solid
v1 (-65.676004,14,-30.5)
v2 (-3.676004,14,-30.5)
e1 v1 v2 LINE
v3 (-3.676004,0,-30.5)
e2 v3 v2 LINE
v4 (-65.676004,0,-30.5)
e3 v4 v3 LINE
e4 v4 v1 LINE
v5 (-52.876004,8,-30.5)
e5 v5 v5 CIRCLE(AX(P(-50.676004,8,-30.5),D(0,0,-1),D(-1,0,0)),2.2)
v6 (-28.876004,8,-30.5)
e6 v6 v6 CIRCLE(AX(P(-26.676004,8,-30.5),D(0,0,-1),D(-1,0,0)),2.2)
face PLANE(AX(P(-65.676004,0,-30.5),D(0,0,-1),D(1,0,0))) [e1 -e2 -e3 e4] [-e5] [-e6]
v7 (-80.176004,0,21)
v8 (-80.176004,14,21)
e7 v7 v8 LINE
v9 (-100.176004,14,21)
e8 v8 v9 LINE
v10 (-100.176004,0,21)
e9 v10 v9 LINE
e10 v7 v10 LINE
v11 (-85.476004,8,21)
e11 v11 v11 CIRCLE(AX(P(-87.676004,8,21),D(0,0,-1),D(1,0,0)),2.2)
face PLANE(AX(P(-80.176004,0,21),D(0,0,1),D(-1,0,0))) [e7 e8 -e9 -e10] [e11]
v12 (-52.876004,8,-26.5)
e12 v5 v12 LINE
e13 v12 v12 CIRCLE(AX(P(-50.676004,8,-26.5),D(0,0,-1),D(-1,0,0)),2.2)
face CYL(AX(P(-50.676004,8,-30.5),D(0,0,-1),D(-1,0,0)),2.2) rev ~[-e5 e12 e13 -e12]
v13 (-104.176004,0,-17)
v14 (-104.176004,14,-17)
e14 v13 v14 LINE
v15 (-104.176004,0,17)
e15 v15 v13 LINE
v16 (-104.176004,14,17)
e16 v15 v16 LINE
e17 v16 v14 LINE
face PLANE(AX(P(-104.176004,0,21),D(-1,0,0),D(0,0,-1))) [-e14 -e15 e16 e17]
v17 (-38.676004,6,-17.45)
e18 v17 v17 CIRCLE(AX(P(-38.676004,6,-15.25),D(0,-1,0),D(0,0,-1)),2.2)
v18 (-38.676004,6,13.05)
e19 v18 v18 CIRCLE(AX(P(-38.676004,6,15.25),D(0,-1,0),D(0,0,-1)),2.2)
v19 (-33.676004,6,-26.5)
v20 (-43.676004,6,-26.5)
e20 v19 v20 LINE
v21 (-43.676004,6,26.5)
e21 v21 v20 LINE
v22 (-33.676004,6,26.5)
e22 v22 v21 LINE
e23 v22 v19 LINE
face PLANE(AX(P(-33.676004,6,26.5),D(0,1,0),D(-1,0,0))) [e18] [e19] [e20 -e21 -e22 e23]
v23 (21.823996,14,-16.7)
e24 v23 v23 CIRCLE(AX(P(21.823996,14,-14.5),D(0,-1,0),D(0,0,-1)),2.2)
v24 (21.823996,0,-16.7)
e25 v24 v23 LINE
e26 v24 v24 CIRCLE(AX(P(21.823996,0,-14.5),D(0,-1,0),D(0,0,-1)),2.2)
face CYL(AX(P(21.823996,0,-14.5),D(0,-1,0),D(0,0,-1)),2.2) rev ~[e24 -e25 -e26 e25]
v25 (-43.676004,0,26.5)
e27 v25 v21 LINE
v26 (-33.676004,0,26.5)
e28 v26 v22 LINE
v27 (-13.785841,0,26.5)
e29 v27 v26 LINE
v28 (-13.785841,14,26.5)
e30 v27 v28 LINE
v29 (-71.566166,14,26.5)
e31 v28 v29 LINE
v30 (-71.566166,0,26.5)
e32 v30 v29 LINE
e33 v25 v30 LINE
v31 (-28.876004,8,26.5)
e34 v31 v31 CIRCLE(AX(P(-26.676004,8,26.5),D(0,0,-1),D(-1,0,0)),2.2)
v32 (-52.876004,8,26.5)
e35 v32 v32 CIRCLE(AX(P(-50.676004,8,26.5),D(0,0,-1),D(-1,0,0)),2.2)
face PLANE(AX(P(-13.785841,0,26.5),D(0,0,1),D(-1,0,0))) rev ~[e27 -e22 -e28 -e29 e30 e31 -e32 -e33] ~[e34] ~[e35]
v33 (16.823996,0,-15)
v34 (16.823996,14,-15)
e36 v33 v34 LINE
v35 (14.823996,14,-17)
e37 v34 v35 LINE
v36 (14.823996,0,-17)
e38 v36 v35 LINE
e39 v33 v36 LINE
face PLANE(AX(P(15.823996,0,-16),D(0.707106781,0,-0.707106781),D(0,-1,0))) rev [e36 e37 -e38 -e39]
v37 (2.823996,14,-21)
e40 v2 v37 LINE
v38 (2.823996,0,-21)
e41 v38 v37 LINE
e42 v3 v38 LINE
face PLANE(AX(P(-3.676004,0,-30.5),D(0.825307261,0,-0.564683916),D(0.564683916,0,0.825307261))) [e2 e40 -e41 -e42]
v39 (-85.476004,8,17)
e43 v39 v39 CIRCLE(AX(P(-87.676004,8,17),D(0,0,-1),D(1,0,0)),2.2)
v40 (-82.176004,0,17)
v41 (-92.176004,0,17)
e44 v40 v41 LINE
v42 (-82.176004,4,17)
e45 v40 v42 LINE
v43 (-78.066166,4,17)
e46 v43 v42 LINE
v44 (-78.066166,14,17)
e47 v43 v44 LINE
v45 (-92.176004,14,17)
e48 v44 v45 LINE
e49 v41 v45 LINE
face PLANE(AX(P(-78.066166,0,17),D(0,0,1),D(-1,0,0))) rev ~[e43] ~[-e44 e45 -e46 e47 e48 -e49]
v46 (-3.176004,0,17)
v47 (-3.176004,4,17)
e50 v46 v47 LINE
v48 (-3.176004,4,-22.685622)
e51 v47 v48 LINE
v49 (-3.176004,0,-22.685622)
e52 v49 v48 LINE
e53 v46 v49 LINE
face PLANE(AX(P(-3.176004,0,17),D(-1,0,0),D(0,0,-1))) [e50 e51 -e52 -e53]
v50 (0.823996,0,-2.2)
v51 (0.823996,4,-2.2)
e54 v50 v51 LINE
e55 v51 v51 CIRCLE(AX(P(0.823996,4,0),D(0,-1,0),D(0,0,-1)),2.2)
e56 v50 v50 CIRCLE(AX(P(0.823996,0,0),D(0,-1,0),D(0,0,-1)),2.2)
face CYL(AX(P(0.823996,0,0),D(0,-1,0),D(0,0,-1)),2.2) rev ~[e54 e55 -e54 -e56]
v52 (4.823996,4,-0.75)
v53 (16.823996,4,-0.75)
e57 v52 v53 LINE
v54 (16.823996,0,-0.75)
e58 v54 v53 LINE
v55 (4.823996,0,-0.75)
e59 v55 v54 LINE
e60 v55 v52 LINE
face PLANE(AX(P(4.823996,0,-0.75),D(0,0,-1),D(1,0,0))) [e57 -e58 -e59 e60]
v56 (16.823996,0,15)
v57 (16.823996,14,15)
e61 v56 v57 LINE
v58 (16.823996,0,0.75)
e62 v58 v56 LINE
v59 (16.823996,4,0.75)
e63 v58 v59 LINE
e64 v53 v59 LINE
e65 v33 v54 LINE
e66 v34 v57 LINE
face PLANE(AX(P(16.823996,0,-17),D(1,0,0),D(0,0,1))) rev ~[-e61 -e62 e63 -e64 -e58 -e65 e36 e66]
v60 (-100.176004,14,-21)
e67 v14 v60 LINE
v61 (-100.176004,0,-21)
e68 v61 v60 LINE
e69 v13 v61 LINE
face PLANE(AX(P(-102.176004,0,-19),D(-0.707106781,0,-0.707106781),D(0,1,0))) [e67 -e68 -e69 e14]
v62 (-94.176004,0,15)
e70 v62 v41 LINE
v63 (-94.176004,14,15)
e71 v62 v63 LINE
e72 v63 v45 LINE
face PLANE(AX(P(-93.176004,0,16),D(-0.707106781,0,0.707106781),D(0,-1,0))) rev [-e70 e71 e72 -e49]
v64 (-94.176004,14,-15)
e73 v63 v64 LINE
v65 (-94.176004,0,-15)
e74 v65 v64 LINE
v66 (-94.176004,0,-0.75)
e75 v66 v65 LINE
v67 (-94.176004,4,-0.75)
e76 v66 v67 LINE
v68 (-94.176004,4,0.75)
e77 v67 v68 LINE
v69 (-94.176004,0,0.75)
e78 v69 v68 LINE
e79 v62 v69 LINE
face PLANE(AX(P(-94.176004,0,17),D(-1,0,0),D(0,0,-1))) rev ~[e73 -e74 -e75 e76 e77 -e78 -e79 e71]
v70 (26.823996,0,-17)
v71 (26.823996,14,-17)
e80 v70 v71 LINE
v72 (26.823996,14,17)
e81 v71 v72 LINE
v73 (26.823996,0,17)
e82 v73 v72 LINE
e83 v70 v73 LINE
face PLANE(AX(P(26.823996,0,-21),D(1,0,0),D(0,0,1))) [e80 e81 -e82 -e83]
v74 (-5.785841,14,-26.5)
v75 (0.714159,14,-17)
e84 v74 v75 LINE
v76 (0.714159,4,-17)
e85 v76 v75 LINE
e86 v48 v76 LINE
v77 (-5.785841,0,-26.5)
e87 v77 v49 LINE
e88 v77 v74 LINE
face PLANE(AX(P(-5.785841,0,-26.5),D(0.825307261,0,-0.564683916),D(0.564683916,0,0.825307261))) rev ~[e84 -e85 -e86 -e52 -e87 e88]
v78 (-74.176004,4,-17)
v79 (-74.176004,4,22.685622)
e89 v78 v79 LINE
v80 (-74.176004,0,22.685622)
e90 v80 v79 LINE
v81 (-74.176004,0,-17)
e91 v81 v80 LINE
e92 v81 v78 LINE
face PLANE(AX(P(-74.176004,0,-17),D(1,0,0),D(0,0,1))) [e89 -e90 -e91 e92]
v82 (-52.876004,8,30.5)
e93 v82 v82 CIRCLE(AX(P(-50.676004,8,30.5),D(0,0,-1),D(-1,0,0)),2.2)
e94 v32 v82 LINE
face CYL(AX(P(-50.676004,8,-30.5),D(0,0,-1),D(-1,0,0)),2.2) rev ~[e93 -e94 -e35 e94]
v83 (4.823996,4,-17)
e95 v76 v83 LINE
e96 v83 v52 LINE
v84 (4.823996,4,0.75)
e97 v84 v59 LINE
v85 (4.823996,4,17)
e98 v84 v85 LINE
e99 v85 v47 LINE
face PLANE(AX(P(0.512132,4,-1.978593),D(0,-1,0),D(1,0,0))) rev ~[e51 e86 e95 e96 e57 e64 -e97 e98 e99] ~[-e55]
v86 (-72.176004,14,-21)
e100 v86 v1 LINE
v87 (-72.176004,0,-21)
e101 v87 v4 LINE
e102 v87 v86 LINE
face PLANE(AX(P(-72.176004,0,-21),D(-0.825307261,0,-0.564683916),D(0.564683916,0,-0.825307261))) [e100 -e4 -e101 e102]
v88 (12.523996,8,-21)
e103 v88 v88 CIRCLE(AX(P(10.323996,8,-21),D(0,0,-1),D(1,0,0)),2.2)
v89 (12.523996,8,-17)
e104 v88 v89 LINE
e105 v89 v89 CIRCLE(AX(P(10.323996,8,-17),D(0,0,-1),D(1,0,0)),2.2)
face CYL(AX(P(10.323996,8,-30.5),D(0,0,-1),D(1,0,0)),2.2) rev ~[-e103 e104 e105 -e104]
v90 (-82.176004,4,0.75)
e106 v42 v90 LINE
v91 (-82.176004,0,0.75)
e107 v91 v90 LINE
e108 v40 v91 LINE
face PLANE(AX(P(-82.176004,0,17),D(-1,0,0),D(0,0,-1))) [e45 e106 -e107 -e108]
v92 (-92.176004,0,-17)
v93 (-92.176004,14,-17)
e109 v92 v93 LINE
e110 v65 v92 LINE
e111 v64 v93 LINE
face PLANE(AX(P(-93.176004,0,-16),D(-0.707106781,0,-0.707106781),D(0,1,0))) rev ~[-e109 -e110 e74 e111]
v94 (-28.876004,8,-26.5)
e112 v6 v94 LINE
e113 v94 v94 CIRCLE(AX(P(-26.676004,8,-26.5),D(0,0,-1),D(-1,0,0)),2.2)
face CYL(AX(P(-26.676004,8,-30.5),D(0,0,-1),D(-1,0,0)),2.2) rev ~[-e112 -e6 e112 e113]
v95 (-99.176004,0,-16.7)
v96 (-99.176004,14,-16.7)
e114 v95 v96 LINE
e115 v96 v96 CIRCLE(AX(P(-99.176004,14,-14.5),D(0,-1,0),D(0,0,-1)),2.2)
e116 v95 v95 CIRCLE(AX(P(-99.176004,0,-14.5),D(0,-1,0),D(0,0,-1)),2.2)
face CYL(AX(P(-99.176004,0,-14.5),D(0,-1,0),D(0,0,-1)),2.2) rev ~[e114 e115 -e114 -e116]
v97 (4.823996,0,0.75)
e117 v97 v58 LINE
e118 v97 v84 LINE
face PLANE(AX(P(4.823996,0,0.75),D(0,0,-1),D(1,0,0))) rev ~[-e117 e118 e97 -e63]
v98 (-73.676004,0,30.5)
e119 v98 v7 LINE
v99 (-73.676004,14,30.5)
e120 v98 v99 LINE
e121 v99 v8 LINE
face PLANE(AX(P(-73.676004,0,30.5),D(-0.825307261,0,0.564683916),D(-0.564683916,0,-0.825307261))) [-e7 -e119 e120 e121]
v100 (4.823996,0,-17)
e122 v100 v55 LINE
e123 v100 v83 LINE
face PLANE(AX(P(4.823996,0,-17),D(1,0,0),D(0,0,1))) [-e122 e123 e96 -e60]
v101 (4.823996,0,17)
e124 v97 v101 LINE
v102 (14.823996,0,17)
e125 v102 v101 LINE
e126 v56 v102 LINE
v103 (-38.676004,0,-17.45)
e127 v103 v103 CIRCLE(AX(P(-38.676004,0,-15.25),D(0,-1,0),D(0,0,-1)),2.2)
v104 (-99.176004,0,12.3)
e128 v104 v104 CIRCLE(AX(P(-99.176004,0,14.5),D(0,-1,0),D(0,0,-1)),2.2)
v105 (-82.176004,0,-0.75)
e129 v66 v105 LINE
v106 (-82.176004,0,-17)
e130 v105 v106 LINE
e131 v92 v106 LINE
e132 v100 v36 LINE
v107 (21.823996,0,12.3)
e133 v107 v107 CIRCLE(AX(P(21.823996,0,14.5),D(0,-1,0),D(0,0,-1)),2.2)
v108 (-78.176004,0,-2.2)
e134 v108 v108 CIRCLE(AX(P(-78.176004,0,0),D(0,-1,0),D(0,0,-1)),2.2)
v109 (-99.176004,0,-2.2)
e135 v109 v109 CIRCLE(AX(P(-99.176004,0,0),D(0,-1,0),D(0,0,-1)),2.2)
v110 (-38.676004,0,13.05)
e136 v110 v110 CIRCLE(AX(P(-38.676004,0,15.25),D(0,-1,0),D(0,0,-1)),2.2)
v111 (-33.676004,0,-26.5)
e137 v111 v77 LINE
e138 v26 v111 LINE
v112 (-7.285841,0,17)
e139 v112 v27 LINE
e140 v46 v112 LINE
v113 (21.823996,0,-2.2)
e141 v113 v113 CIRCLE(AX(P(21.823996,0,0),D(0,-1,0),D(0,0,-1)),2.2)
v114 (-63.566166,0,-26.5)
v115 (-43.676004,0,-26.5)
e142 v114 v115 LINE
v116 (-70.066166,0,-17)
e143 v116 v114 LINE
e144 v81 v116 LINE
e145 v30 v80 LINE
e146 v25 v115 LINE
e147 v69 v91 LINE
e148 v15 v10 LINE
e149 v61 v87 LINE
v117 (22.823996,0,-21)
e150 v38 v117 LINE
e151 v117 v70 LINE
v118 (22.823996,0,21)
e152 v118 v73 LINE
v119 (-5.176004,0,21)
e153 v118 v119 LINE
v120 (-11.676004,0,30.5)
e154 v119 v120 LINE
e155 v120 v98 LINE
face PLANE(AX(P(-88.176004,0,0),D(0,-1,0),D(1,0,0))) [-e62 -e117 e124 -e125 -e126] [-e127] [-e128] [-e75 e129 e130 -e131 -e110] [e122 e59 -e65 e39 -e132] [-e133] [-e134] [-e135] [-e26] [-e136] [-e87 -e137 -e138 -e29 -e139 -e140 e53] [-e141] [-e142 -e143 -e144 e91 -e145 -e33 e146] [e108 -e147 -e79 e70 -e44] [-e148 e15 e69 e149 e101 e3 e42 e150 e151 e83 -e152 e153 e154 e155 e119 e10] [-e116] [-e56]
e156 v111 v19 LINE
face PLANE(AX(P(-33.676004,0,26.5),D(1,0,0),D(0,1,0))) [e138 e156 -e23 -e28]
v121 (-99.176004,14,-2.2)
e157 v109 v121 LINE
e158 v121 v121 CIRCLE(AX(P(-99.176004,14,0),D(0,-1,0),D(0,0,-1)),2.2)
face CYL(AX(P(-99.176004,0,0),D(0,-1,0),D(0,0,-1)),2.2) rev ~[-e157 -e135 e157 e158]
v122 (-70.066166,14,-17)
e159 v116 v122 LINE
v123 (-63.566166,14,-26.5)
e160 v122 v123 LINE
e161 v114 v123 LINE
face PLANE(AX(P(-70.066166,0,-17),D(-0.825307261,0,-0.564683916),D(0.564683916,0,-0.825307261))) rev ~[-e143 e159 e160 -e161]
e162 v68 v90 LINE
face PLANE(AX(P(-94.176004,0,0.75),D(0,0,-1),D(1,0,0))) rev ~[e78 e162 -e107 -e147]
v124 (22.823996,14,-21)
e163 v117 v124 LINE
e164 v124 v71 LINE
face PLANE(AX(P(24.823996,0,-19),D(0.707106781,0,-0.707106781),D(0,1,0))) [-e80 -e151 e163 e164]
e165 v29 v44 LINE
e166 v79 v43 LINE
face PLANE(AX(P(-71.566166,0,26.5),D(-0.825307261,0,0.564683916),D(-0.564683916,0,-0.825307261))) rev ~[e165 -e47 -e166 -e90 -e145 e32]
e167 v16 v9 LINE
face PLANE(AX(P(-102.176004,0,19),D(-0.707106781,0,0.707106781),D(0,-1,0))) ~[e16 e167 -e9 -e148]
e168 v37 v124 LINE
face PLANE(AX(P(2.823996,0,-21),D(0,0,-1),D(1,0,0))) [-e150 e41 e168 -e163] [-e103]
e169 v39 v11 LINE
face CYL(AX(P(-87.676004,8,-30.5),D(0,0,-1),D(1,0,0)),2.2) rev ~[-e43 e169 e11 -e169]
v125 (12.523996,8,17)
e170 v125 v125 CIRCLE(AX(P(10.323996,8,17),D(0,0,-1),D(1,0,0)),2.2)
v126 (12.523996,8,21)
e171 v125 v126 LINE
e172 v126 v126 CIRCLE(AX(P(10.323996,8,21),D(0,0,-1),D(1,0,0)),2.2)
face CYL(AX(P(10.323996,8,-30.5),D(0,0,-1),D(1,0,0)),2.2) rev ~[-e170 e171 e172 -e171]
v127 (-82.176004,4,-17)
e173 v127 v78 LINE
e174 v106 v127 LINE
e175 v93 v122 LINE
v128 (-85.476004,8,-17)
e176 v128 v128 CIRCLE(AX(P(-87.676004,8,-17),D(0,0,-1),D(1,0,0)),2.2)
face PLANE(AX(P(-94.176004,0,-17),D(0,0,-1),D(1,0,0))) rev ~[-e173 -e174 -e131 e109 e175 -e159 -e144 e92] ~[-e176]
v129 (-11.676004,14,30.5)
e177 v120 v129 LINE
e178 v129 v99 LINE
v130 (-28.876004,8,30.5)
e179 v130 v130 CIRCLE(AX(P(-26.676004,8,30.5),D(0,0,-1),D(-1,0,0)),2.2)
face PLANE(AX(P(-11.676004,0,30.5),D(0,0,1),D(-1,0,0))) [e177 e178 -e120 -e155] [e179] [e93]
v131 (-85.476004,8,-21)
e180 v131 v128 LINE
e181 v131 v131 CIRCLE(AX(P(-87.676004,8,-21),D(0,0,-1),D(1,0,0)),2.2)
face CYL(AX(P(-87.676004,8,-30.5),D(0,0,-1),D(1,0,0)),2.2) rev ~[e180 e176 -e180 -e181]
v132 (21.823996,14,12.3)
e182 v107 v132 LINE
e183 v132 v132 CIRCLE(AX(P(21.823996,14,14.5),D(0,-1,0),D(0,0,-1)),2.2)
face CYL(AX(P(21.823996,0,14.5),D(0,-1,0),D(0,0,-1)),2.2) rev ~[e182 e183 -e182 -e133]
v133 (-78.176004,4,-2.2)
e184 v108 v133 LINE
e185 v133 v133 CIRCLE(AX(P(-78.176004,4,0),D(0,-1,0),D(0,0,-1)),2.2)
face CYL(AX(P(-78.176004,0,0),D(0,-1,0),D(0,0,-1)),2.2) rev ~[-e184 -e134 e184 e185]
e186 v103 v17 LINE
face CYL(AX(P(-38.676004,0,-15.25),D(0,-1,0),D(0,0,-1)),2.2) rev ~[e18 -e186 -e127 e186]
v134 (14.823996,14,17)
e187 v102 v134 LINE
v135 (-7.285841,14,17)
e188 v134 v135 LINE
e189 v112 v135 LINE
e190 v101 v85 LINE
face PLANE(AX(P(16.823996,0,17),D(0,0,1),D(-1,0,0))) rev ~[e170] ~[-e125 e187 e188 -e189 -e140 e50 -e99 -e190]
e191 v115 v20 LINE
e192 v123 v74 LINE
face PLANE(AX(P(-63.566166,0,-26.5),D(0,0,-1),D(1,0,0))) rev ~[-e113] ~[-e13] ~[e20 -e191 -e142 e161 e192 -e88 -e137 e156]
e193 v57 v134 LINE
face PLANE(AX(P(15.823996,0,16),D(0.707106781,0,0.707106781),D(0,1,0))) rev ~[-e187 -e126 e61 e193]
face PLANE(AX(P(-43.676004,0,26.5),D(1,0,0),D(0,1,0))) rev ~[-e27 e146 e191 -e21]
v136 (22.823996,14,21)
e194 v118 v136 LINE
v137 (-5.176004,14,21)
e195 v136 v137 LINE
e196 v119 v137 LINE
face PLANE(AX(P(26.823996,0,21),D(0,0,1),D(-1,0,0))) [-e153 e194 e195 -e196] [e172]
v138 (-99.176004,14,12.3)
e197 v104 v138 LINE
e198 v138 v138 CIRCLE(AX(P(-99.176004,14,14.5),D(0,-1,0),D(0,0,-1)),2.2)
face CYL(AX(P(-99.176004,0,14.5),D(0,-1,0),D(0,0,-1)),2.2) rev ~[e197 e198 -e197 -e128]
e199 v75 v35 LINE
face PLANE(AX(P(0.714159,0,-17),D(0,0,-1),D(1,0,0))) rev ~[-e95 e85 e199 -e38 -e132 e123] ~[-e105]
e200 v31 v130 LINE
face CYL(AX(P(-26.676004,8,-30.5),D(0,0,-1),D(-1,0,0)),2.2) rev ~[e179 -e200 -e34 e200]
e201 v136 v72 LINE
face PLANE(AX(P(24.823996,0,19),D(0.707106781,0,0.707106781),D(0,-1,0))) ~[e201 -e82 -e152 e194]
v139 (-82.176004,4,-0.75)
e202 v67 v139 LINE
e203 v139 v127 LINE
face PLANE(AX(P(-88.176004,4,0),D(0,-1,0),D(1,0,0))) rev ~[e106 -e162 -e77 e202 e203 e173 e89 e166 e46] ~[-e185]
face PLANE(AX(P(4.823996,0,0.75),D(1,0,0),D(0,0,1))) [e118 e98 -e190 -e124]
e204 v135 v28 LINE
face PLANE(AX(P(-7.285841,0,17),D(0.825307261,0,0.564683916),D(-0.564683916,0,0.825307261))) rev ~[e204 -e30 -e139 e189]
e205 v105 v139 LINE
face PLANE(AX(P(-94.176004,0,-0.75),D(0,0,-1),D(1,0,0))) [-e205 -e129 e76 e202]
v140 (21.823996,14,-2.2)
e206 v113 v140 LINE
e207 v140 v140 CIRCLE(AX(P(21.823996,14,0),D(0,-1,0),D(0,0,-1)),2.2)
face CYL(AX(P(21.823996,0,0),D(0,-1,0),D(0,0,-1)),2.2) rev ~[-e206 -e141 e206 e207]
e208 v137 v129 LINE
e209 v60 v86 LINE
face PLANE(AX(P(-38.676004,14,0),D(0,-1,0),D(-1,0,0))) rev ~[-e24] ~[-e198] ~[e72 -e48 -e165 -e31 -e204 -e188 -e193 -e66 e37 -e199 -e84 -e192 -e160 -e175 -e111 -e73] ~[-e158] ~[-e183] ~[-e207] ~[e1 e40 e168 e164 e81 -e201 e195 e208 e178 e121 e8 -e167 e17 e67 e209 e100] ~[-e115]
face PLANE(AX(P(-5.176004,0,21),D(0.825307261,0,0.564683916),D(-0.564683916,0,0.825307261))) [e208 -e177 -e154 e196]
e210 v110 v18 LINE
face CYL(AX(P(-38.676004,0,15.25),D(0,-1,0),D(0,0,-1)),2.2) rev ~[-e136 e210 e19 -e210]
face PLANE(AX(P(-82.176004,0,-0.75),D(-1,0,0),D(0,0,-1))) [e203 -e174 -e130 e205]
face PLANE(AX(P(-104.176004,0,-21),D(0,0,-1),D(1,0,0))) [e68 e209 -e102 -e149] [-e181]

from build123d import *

# Parameters (mm, degrees)
BOSS_EXTRUDE1_DEPTH = 14
CUT_EXTRUDE1_REACH  = 16
SKETCH2_R           = 2.2
SKETCH5_R           = 2.2
CUT_EXTRUDE2_DEPTH  = 62
BOSS_EXTRUDE2_REACH = 59
SKETCH6_W           = 10
SKETCH6_H           = 6
SKETCH7_W           = 12
SKETCH7_H           = 1.5
SKETCH7_R           = 2.2
BOSS_EXTRUDE3_DEPTH = 4
CUT_EXTRUDE3_REACH  = 16
SKETCH8_R           = 2.2
CHAMFER1_SIZE       = 4
CHAMFER2_SIZE       = 2


with BuildPart() as part:
    # Sketch1 → Boss-Extrude1 (new body)
    with BuildSketch(Plane(origin=(0, 0, 0), x_dir=(1, 0, 0), z_dir=(0, 1, 0))):
        Polygon((-104.176003517, -21), (-104.176003517, 21), (-72.176003517, 21), (-65.676003517, 30.5), (-3.676003517, 30.5), (2.823996483, 21), (26.823996483, 21), (26.823996483, -21), (-5.176003517, -21), (-11.676003517, -30.5), (-73.676003517, -30.5), (-80.176003517, -21), align=None)
        Polygon((-94.176003517, -17), (-94.176003517, 17), (-70.066165861, 17), (-63.566165861, 26.5), (-5.785841173, 26.5), (0.714158827, 17), (16.823996483, 17), (16.823996483, -17), (-7.285841173, -17), (-13.785841173, -26.5), (-71.566165861, -26.5), (-78.066165861, -17), align=None, mode=Mode.SUBTRACT)
    extrude(amount=BOSS_EXTRUDE1_DEPTH)

    # Sketch2 → Cut-Extrude1 (cut, up to next)
    with BuildSketch(Plane(origin=(0, 0, 0), x_dir=(-1, 0, 0), z_dir=(0, -1, 0)), mode=Mode.PRIVATE) as cut_extrude1_sk1:
        with Locations(Location((99.176003517, 14.5, 0), (0, 0, 90))):  # turned: the seam where the file's is
            Circle(SKETCH2_R)
    cut_extrude1_tool1 = extrude(cut_extrude1_sk1.sketch, amount=-CUT_EXTRUDE1_REACH, mode=Mode.PRIVATE) & part.part
    add(cut_extrude1_tool1.solids().sort_by_distance((-99.176004, 0, -14.5))[0], mode=Mode.SUBTRACT)
    # Sketch2 → Cut-Extrude1 (cut, up to next)
    with BuildSketch(Plane(origin=(0, 0, 0), x_dir=(-1, 0, 0), z_dir=(0, -1, 0)), mode=Mode.PRIVATE) as cut_extrude1_sk2:
        with Locations(Location((99.176003517, 0, 0), (0, 0, 90))):  # turned: the seam where the file's is
            Circle(SKETCH2_R)
    cut_extrude1_tool2 = extrude(cut_extrude1_sk2.sketch, amount=-CUT_EXTRUDE1_REACH, mode=Mode.PRIVATE) & part.part
    add(cut_extrude1_tool2.solids().sort_by_distance((-99.176004, 0, 0))[0], mode=Mode.SUBTRACT)
    # Sketch2 → Cut-Extrude1 (cut, up to next)
    with BuildSketch(Plane(origin=(0, 0, 0), x_dir=(-1, 0, 0), z_dir=(0, -1, 0)), mode=Mode.PRIVATE) as cut_extrude1_sk3:
        with Locations(Location((99.176003517, -14.5, 0), (0, 0, 90))):  # turned: the seam where the file's is
            Circle(SKETCH2_R)
    cut_extrude1_tool3 = extrude(cut_extrude1_sk3.sketch, amount=-CUT_EXTRUDE1_REACH, mode=Mode.PRIVATE) & part.part
    add(cut_extrude1_tool3.solids().sort_by_distance((-99.176004, 0, 14.5))[0], mode=Mode.SUBTRACT)
    # Sketch2 → Cut-Extrude1 (cut, up to next)
    with BuildSketch(Plane(origin=(0, 0, 0), x_dir=(-1, 0, 0), z_dir=(0, -1, 0)), mode=Mode.PRIVATE) as cut_extrude1_sk4:
        with Locations(Location((-21.823996483, -14.5, 0), (0, 0, 90))):  # turned: the seam where the file's is
            Circle(SKETCH2_R)
    cut_extrude1_tool4 = extrude(cut_extrude1_sk4.sketch, amount=-CUT_EXTRUDE1_REACH, mode=Mode.PRIVATE) & part.part
    add(cut_extrude1_tool4.solids().sort_by_distance((21.823996, 0, 14.5))[0], mode=Mode.SUBTRACT)
    # Sketch2 → Cut-Extrude1 (cut, up to next)
    with BuildSketch(Plane(origin=(0, 0, 0), x_dir=(-1, 0, 0), z_dir=(0, -1, 0)), mode=Mode.PRIVATE) as cut_extrude1_sk5:
        with Locations(Location((-21.823996483, 0, 0), (0, 0, 90))):  # turned: the seam where the file's is
            Circle(SKETCH2_R)
    cut_extrude1_tool5 = extrude(cut_extrude1_sk5.sketch, amount=-CUT_EXTRUDE1_REACH, mode=Mode.PRIVATE) & part.part
    add(cut_extrude1_tool5.solids().sort_by_distance((21.823996, 0, 0))[0], mode=Mode.SUBTRACT)
    # Sketch2 → Cut-Extrude1 (cut, up to next)
    with BuildSketch(Plane(origin=(0, 0, 0), x_dir=(-1, 0, 0), z_dir=(0, -1, 0)), mode=Mode.PRIVATE) as cut_extrude1_sk6:
        with Locations(Location((-21.823996483, 14.5, 0), (0, 0, 90))):  # turned: the seam where the file's is
            Circle(SKETCH2_R)
    cut_extrude1_tool6 = extrude(cut_extrude1_sk6.sketch, amount=-CUT_EXTRUDE1_REACH, mode=Mode.PRIVATE) & part.part
    add(cut_extrude1_tool6.solids().sort_by_distance((21.823996, 0, -14.5))[0], mode=Mode.SUBTRACT)

    # Sketch5 → Cut-Extrude2 (cut, through all)
    with BuildSketch(Plane(origin=(0, 0, -30.5), x_dir=(-1, 0, 0), z_dir=(0, 0, -1))):
        with Locations((50.676003517, 8)):
            Circle(SKETCH5_R)
        with Locations((26.676003517, 8)):
            Circle(SKETCH5_R)
        with Locations(Location((87.676003517, 8, 0), (0, 0, 180))):  # turned: the seam where the file's is
            Circle(SKETCH5_R)
        with Locations(Location((-10.323996483, 8, 0), (0, 0, 180))):  # turned: the seam where the file's is
            Circle(SKETCH5_R)
    extrude(amount=-CUT_EXTRUDE2_DEPTH, mode=Mode.SUBTRACT)

    # Sketch6 → Boss-Extrude2 (add, up to next)
    with BuildSketch(Plane(origin=(0, 0, 26.5), x_dir=(-1, 0, 0), z_dir=(0, 0, -1)), mode=Mode.PRIVATE) as boss_extrude2_sk1:
        with Locations((38.676003517, 3)):
            Rectangle(SKETCH6_W, SKETCH6_H)
    boss_extrude2_tool1 = extrude(boss_extrude2_sk1.sketch, amount=BOSS_EXTRUDE2_REACH, mode=Mode.PRIVATE) - part.part
    add(boss_extrude2_tool1.solids().sort_by_distance((-38.676004, 3, 26.5))[0])

    # Sketch7 → Boss-Extrude3 (add)
    with BuildSketch(Plane.XZ):
        with Locations((-88.176003517, 0)):
            Rectangle(SKETCH7_W, SKETCH7_H)
        Polygon((-78.066165861, 17), (-82.176003517, 17), (-82.176003517, 0.75), (-82.176003517, -0.75), (-82.176003517, -17), (-74.176003517, -17), (-74.176003517, 22.685621887), align=None)
        with Locations(Location((-78.176003517, 0, 0), (0, 0, 270))):  # turned: the seam where the file's is
            Circle(SKETCH7_R, mode=Mode.SUBTRACT)
        Polygon((4.823996483, 0.75), (4.823996483, 17), (-3.176003517, 17), (-3.176003517, -22.685621887), (0.714158827, -17), (4.823996483, -17), (4.823996483, -0.75), align=None)
        with Locations(Location((0.823996483, 0, 0), (0, 0, 270))):  # turned: the seam where the file's is
            Circle(SKETCH7_R, mode=Mode.SUBTRACT)
        with Locations((10.823996483, 0)):
            Rectangle(SKETCH7_W, SKETCH7_H)
    extrude(amount=-BOSS_EXTRUDE3_DEPTH)

    # Sketch8 → Cut-Extrude3 (cut, up to next)
    with BuildSketch(Plane(origin=(0, 0, 0), x_dir=(-1, 0, 0), z_dir=(0, -1, 0)), mode=Mode.PRIVATE) as cut_extrude3_sk1:
        with Locations(Location((38.676003517, -15.25, 0), (0, 0, 90))):  # turned: the seam where the file's is
            Circle(SKETCH8_R)
    cut_extrude3_tool1 = extrude(cut_extrude3_sk1.sketch, amount=-CUT_EXTRUDE3_REACH, mode=Mode.PRIVATE) & part.part
    add(cut_extrude3_tool1.solids().sort_by_distance((-38.676004, 0, 15.25))[0], mode=Mode.SUBTRACT)
    # Sketch8 → Cut-Extrude3 (cut, up to next)
    with BuildSketch(Plane(origin=(0, 0, 0), x_dir=(-1, 0, 0), z_dir=(0, -1, 0)), mode=Mode.PRIVATE) as cut_extrude3_sk2:
        with Locations(Location((38.676003517, 15.25, 0), (0, 0, 90))):  # turned: the seam where the file's is
            Circle(SKETCH8_R)
    cut_extrude3_tool2 = extrude(cut_extrude3_sk2.sketch, amount=-CUT_EXTRUDE3_REACH, mode=Mode.PRIVATE) & part.part
    add(cut_extrude3_tool2.solids().sort_by_distance((-38.676004, 0, -15.25))[0], mode=Mode.SUBTRACT)

    # Chamfer1
    chamfer1_edges = [part.edges().sort_by_distance(p)[0] for p in [
        (-104.176003517, 7, 21),
        (-104.176003517, 7, -21),
        (26.823996483, 7, -21),
        (26.823996483, 7, 21),
    ]]
    chamfer(chamfer1_edges, length=CHAMFER1_SIZE)

    # Chamfer2
    chamfer2_edges = [part.edges().sort_by_distance(p)[0] for p in [
        (-94.176003517, 7, 17),
        (16.823996483, 7, 17),
        (16.823996483, 7, -17),
        (-94.176003517, 7, -17),
    ]]
    chamfer(chamfer2_edges, length=CHAMFER2_SIZE)


solid = part.part
